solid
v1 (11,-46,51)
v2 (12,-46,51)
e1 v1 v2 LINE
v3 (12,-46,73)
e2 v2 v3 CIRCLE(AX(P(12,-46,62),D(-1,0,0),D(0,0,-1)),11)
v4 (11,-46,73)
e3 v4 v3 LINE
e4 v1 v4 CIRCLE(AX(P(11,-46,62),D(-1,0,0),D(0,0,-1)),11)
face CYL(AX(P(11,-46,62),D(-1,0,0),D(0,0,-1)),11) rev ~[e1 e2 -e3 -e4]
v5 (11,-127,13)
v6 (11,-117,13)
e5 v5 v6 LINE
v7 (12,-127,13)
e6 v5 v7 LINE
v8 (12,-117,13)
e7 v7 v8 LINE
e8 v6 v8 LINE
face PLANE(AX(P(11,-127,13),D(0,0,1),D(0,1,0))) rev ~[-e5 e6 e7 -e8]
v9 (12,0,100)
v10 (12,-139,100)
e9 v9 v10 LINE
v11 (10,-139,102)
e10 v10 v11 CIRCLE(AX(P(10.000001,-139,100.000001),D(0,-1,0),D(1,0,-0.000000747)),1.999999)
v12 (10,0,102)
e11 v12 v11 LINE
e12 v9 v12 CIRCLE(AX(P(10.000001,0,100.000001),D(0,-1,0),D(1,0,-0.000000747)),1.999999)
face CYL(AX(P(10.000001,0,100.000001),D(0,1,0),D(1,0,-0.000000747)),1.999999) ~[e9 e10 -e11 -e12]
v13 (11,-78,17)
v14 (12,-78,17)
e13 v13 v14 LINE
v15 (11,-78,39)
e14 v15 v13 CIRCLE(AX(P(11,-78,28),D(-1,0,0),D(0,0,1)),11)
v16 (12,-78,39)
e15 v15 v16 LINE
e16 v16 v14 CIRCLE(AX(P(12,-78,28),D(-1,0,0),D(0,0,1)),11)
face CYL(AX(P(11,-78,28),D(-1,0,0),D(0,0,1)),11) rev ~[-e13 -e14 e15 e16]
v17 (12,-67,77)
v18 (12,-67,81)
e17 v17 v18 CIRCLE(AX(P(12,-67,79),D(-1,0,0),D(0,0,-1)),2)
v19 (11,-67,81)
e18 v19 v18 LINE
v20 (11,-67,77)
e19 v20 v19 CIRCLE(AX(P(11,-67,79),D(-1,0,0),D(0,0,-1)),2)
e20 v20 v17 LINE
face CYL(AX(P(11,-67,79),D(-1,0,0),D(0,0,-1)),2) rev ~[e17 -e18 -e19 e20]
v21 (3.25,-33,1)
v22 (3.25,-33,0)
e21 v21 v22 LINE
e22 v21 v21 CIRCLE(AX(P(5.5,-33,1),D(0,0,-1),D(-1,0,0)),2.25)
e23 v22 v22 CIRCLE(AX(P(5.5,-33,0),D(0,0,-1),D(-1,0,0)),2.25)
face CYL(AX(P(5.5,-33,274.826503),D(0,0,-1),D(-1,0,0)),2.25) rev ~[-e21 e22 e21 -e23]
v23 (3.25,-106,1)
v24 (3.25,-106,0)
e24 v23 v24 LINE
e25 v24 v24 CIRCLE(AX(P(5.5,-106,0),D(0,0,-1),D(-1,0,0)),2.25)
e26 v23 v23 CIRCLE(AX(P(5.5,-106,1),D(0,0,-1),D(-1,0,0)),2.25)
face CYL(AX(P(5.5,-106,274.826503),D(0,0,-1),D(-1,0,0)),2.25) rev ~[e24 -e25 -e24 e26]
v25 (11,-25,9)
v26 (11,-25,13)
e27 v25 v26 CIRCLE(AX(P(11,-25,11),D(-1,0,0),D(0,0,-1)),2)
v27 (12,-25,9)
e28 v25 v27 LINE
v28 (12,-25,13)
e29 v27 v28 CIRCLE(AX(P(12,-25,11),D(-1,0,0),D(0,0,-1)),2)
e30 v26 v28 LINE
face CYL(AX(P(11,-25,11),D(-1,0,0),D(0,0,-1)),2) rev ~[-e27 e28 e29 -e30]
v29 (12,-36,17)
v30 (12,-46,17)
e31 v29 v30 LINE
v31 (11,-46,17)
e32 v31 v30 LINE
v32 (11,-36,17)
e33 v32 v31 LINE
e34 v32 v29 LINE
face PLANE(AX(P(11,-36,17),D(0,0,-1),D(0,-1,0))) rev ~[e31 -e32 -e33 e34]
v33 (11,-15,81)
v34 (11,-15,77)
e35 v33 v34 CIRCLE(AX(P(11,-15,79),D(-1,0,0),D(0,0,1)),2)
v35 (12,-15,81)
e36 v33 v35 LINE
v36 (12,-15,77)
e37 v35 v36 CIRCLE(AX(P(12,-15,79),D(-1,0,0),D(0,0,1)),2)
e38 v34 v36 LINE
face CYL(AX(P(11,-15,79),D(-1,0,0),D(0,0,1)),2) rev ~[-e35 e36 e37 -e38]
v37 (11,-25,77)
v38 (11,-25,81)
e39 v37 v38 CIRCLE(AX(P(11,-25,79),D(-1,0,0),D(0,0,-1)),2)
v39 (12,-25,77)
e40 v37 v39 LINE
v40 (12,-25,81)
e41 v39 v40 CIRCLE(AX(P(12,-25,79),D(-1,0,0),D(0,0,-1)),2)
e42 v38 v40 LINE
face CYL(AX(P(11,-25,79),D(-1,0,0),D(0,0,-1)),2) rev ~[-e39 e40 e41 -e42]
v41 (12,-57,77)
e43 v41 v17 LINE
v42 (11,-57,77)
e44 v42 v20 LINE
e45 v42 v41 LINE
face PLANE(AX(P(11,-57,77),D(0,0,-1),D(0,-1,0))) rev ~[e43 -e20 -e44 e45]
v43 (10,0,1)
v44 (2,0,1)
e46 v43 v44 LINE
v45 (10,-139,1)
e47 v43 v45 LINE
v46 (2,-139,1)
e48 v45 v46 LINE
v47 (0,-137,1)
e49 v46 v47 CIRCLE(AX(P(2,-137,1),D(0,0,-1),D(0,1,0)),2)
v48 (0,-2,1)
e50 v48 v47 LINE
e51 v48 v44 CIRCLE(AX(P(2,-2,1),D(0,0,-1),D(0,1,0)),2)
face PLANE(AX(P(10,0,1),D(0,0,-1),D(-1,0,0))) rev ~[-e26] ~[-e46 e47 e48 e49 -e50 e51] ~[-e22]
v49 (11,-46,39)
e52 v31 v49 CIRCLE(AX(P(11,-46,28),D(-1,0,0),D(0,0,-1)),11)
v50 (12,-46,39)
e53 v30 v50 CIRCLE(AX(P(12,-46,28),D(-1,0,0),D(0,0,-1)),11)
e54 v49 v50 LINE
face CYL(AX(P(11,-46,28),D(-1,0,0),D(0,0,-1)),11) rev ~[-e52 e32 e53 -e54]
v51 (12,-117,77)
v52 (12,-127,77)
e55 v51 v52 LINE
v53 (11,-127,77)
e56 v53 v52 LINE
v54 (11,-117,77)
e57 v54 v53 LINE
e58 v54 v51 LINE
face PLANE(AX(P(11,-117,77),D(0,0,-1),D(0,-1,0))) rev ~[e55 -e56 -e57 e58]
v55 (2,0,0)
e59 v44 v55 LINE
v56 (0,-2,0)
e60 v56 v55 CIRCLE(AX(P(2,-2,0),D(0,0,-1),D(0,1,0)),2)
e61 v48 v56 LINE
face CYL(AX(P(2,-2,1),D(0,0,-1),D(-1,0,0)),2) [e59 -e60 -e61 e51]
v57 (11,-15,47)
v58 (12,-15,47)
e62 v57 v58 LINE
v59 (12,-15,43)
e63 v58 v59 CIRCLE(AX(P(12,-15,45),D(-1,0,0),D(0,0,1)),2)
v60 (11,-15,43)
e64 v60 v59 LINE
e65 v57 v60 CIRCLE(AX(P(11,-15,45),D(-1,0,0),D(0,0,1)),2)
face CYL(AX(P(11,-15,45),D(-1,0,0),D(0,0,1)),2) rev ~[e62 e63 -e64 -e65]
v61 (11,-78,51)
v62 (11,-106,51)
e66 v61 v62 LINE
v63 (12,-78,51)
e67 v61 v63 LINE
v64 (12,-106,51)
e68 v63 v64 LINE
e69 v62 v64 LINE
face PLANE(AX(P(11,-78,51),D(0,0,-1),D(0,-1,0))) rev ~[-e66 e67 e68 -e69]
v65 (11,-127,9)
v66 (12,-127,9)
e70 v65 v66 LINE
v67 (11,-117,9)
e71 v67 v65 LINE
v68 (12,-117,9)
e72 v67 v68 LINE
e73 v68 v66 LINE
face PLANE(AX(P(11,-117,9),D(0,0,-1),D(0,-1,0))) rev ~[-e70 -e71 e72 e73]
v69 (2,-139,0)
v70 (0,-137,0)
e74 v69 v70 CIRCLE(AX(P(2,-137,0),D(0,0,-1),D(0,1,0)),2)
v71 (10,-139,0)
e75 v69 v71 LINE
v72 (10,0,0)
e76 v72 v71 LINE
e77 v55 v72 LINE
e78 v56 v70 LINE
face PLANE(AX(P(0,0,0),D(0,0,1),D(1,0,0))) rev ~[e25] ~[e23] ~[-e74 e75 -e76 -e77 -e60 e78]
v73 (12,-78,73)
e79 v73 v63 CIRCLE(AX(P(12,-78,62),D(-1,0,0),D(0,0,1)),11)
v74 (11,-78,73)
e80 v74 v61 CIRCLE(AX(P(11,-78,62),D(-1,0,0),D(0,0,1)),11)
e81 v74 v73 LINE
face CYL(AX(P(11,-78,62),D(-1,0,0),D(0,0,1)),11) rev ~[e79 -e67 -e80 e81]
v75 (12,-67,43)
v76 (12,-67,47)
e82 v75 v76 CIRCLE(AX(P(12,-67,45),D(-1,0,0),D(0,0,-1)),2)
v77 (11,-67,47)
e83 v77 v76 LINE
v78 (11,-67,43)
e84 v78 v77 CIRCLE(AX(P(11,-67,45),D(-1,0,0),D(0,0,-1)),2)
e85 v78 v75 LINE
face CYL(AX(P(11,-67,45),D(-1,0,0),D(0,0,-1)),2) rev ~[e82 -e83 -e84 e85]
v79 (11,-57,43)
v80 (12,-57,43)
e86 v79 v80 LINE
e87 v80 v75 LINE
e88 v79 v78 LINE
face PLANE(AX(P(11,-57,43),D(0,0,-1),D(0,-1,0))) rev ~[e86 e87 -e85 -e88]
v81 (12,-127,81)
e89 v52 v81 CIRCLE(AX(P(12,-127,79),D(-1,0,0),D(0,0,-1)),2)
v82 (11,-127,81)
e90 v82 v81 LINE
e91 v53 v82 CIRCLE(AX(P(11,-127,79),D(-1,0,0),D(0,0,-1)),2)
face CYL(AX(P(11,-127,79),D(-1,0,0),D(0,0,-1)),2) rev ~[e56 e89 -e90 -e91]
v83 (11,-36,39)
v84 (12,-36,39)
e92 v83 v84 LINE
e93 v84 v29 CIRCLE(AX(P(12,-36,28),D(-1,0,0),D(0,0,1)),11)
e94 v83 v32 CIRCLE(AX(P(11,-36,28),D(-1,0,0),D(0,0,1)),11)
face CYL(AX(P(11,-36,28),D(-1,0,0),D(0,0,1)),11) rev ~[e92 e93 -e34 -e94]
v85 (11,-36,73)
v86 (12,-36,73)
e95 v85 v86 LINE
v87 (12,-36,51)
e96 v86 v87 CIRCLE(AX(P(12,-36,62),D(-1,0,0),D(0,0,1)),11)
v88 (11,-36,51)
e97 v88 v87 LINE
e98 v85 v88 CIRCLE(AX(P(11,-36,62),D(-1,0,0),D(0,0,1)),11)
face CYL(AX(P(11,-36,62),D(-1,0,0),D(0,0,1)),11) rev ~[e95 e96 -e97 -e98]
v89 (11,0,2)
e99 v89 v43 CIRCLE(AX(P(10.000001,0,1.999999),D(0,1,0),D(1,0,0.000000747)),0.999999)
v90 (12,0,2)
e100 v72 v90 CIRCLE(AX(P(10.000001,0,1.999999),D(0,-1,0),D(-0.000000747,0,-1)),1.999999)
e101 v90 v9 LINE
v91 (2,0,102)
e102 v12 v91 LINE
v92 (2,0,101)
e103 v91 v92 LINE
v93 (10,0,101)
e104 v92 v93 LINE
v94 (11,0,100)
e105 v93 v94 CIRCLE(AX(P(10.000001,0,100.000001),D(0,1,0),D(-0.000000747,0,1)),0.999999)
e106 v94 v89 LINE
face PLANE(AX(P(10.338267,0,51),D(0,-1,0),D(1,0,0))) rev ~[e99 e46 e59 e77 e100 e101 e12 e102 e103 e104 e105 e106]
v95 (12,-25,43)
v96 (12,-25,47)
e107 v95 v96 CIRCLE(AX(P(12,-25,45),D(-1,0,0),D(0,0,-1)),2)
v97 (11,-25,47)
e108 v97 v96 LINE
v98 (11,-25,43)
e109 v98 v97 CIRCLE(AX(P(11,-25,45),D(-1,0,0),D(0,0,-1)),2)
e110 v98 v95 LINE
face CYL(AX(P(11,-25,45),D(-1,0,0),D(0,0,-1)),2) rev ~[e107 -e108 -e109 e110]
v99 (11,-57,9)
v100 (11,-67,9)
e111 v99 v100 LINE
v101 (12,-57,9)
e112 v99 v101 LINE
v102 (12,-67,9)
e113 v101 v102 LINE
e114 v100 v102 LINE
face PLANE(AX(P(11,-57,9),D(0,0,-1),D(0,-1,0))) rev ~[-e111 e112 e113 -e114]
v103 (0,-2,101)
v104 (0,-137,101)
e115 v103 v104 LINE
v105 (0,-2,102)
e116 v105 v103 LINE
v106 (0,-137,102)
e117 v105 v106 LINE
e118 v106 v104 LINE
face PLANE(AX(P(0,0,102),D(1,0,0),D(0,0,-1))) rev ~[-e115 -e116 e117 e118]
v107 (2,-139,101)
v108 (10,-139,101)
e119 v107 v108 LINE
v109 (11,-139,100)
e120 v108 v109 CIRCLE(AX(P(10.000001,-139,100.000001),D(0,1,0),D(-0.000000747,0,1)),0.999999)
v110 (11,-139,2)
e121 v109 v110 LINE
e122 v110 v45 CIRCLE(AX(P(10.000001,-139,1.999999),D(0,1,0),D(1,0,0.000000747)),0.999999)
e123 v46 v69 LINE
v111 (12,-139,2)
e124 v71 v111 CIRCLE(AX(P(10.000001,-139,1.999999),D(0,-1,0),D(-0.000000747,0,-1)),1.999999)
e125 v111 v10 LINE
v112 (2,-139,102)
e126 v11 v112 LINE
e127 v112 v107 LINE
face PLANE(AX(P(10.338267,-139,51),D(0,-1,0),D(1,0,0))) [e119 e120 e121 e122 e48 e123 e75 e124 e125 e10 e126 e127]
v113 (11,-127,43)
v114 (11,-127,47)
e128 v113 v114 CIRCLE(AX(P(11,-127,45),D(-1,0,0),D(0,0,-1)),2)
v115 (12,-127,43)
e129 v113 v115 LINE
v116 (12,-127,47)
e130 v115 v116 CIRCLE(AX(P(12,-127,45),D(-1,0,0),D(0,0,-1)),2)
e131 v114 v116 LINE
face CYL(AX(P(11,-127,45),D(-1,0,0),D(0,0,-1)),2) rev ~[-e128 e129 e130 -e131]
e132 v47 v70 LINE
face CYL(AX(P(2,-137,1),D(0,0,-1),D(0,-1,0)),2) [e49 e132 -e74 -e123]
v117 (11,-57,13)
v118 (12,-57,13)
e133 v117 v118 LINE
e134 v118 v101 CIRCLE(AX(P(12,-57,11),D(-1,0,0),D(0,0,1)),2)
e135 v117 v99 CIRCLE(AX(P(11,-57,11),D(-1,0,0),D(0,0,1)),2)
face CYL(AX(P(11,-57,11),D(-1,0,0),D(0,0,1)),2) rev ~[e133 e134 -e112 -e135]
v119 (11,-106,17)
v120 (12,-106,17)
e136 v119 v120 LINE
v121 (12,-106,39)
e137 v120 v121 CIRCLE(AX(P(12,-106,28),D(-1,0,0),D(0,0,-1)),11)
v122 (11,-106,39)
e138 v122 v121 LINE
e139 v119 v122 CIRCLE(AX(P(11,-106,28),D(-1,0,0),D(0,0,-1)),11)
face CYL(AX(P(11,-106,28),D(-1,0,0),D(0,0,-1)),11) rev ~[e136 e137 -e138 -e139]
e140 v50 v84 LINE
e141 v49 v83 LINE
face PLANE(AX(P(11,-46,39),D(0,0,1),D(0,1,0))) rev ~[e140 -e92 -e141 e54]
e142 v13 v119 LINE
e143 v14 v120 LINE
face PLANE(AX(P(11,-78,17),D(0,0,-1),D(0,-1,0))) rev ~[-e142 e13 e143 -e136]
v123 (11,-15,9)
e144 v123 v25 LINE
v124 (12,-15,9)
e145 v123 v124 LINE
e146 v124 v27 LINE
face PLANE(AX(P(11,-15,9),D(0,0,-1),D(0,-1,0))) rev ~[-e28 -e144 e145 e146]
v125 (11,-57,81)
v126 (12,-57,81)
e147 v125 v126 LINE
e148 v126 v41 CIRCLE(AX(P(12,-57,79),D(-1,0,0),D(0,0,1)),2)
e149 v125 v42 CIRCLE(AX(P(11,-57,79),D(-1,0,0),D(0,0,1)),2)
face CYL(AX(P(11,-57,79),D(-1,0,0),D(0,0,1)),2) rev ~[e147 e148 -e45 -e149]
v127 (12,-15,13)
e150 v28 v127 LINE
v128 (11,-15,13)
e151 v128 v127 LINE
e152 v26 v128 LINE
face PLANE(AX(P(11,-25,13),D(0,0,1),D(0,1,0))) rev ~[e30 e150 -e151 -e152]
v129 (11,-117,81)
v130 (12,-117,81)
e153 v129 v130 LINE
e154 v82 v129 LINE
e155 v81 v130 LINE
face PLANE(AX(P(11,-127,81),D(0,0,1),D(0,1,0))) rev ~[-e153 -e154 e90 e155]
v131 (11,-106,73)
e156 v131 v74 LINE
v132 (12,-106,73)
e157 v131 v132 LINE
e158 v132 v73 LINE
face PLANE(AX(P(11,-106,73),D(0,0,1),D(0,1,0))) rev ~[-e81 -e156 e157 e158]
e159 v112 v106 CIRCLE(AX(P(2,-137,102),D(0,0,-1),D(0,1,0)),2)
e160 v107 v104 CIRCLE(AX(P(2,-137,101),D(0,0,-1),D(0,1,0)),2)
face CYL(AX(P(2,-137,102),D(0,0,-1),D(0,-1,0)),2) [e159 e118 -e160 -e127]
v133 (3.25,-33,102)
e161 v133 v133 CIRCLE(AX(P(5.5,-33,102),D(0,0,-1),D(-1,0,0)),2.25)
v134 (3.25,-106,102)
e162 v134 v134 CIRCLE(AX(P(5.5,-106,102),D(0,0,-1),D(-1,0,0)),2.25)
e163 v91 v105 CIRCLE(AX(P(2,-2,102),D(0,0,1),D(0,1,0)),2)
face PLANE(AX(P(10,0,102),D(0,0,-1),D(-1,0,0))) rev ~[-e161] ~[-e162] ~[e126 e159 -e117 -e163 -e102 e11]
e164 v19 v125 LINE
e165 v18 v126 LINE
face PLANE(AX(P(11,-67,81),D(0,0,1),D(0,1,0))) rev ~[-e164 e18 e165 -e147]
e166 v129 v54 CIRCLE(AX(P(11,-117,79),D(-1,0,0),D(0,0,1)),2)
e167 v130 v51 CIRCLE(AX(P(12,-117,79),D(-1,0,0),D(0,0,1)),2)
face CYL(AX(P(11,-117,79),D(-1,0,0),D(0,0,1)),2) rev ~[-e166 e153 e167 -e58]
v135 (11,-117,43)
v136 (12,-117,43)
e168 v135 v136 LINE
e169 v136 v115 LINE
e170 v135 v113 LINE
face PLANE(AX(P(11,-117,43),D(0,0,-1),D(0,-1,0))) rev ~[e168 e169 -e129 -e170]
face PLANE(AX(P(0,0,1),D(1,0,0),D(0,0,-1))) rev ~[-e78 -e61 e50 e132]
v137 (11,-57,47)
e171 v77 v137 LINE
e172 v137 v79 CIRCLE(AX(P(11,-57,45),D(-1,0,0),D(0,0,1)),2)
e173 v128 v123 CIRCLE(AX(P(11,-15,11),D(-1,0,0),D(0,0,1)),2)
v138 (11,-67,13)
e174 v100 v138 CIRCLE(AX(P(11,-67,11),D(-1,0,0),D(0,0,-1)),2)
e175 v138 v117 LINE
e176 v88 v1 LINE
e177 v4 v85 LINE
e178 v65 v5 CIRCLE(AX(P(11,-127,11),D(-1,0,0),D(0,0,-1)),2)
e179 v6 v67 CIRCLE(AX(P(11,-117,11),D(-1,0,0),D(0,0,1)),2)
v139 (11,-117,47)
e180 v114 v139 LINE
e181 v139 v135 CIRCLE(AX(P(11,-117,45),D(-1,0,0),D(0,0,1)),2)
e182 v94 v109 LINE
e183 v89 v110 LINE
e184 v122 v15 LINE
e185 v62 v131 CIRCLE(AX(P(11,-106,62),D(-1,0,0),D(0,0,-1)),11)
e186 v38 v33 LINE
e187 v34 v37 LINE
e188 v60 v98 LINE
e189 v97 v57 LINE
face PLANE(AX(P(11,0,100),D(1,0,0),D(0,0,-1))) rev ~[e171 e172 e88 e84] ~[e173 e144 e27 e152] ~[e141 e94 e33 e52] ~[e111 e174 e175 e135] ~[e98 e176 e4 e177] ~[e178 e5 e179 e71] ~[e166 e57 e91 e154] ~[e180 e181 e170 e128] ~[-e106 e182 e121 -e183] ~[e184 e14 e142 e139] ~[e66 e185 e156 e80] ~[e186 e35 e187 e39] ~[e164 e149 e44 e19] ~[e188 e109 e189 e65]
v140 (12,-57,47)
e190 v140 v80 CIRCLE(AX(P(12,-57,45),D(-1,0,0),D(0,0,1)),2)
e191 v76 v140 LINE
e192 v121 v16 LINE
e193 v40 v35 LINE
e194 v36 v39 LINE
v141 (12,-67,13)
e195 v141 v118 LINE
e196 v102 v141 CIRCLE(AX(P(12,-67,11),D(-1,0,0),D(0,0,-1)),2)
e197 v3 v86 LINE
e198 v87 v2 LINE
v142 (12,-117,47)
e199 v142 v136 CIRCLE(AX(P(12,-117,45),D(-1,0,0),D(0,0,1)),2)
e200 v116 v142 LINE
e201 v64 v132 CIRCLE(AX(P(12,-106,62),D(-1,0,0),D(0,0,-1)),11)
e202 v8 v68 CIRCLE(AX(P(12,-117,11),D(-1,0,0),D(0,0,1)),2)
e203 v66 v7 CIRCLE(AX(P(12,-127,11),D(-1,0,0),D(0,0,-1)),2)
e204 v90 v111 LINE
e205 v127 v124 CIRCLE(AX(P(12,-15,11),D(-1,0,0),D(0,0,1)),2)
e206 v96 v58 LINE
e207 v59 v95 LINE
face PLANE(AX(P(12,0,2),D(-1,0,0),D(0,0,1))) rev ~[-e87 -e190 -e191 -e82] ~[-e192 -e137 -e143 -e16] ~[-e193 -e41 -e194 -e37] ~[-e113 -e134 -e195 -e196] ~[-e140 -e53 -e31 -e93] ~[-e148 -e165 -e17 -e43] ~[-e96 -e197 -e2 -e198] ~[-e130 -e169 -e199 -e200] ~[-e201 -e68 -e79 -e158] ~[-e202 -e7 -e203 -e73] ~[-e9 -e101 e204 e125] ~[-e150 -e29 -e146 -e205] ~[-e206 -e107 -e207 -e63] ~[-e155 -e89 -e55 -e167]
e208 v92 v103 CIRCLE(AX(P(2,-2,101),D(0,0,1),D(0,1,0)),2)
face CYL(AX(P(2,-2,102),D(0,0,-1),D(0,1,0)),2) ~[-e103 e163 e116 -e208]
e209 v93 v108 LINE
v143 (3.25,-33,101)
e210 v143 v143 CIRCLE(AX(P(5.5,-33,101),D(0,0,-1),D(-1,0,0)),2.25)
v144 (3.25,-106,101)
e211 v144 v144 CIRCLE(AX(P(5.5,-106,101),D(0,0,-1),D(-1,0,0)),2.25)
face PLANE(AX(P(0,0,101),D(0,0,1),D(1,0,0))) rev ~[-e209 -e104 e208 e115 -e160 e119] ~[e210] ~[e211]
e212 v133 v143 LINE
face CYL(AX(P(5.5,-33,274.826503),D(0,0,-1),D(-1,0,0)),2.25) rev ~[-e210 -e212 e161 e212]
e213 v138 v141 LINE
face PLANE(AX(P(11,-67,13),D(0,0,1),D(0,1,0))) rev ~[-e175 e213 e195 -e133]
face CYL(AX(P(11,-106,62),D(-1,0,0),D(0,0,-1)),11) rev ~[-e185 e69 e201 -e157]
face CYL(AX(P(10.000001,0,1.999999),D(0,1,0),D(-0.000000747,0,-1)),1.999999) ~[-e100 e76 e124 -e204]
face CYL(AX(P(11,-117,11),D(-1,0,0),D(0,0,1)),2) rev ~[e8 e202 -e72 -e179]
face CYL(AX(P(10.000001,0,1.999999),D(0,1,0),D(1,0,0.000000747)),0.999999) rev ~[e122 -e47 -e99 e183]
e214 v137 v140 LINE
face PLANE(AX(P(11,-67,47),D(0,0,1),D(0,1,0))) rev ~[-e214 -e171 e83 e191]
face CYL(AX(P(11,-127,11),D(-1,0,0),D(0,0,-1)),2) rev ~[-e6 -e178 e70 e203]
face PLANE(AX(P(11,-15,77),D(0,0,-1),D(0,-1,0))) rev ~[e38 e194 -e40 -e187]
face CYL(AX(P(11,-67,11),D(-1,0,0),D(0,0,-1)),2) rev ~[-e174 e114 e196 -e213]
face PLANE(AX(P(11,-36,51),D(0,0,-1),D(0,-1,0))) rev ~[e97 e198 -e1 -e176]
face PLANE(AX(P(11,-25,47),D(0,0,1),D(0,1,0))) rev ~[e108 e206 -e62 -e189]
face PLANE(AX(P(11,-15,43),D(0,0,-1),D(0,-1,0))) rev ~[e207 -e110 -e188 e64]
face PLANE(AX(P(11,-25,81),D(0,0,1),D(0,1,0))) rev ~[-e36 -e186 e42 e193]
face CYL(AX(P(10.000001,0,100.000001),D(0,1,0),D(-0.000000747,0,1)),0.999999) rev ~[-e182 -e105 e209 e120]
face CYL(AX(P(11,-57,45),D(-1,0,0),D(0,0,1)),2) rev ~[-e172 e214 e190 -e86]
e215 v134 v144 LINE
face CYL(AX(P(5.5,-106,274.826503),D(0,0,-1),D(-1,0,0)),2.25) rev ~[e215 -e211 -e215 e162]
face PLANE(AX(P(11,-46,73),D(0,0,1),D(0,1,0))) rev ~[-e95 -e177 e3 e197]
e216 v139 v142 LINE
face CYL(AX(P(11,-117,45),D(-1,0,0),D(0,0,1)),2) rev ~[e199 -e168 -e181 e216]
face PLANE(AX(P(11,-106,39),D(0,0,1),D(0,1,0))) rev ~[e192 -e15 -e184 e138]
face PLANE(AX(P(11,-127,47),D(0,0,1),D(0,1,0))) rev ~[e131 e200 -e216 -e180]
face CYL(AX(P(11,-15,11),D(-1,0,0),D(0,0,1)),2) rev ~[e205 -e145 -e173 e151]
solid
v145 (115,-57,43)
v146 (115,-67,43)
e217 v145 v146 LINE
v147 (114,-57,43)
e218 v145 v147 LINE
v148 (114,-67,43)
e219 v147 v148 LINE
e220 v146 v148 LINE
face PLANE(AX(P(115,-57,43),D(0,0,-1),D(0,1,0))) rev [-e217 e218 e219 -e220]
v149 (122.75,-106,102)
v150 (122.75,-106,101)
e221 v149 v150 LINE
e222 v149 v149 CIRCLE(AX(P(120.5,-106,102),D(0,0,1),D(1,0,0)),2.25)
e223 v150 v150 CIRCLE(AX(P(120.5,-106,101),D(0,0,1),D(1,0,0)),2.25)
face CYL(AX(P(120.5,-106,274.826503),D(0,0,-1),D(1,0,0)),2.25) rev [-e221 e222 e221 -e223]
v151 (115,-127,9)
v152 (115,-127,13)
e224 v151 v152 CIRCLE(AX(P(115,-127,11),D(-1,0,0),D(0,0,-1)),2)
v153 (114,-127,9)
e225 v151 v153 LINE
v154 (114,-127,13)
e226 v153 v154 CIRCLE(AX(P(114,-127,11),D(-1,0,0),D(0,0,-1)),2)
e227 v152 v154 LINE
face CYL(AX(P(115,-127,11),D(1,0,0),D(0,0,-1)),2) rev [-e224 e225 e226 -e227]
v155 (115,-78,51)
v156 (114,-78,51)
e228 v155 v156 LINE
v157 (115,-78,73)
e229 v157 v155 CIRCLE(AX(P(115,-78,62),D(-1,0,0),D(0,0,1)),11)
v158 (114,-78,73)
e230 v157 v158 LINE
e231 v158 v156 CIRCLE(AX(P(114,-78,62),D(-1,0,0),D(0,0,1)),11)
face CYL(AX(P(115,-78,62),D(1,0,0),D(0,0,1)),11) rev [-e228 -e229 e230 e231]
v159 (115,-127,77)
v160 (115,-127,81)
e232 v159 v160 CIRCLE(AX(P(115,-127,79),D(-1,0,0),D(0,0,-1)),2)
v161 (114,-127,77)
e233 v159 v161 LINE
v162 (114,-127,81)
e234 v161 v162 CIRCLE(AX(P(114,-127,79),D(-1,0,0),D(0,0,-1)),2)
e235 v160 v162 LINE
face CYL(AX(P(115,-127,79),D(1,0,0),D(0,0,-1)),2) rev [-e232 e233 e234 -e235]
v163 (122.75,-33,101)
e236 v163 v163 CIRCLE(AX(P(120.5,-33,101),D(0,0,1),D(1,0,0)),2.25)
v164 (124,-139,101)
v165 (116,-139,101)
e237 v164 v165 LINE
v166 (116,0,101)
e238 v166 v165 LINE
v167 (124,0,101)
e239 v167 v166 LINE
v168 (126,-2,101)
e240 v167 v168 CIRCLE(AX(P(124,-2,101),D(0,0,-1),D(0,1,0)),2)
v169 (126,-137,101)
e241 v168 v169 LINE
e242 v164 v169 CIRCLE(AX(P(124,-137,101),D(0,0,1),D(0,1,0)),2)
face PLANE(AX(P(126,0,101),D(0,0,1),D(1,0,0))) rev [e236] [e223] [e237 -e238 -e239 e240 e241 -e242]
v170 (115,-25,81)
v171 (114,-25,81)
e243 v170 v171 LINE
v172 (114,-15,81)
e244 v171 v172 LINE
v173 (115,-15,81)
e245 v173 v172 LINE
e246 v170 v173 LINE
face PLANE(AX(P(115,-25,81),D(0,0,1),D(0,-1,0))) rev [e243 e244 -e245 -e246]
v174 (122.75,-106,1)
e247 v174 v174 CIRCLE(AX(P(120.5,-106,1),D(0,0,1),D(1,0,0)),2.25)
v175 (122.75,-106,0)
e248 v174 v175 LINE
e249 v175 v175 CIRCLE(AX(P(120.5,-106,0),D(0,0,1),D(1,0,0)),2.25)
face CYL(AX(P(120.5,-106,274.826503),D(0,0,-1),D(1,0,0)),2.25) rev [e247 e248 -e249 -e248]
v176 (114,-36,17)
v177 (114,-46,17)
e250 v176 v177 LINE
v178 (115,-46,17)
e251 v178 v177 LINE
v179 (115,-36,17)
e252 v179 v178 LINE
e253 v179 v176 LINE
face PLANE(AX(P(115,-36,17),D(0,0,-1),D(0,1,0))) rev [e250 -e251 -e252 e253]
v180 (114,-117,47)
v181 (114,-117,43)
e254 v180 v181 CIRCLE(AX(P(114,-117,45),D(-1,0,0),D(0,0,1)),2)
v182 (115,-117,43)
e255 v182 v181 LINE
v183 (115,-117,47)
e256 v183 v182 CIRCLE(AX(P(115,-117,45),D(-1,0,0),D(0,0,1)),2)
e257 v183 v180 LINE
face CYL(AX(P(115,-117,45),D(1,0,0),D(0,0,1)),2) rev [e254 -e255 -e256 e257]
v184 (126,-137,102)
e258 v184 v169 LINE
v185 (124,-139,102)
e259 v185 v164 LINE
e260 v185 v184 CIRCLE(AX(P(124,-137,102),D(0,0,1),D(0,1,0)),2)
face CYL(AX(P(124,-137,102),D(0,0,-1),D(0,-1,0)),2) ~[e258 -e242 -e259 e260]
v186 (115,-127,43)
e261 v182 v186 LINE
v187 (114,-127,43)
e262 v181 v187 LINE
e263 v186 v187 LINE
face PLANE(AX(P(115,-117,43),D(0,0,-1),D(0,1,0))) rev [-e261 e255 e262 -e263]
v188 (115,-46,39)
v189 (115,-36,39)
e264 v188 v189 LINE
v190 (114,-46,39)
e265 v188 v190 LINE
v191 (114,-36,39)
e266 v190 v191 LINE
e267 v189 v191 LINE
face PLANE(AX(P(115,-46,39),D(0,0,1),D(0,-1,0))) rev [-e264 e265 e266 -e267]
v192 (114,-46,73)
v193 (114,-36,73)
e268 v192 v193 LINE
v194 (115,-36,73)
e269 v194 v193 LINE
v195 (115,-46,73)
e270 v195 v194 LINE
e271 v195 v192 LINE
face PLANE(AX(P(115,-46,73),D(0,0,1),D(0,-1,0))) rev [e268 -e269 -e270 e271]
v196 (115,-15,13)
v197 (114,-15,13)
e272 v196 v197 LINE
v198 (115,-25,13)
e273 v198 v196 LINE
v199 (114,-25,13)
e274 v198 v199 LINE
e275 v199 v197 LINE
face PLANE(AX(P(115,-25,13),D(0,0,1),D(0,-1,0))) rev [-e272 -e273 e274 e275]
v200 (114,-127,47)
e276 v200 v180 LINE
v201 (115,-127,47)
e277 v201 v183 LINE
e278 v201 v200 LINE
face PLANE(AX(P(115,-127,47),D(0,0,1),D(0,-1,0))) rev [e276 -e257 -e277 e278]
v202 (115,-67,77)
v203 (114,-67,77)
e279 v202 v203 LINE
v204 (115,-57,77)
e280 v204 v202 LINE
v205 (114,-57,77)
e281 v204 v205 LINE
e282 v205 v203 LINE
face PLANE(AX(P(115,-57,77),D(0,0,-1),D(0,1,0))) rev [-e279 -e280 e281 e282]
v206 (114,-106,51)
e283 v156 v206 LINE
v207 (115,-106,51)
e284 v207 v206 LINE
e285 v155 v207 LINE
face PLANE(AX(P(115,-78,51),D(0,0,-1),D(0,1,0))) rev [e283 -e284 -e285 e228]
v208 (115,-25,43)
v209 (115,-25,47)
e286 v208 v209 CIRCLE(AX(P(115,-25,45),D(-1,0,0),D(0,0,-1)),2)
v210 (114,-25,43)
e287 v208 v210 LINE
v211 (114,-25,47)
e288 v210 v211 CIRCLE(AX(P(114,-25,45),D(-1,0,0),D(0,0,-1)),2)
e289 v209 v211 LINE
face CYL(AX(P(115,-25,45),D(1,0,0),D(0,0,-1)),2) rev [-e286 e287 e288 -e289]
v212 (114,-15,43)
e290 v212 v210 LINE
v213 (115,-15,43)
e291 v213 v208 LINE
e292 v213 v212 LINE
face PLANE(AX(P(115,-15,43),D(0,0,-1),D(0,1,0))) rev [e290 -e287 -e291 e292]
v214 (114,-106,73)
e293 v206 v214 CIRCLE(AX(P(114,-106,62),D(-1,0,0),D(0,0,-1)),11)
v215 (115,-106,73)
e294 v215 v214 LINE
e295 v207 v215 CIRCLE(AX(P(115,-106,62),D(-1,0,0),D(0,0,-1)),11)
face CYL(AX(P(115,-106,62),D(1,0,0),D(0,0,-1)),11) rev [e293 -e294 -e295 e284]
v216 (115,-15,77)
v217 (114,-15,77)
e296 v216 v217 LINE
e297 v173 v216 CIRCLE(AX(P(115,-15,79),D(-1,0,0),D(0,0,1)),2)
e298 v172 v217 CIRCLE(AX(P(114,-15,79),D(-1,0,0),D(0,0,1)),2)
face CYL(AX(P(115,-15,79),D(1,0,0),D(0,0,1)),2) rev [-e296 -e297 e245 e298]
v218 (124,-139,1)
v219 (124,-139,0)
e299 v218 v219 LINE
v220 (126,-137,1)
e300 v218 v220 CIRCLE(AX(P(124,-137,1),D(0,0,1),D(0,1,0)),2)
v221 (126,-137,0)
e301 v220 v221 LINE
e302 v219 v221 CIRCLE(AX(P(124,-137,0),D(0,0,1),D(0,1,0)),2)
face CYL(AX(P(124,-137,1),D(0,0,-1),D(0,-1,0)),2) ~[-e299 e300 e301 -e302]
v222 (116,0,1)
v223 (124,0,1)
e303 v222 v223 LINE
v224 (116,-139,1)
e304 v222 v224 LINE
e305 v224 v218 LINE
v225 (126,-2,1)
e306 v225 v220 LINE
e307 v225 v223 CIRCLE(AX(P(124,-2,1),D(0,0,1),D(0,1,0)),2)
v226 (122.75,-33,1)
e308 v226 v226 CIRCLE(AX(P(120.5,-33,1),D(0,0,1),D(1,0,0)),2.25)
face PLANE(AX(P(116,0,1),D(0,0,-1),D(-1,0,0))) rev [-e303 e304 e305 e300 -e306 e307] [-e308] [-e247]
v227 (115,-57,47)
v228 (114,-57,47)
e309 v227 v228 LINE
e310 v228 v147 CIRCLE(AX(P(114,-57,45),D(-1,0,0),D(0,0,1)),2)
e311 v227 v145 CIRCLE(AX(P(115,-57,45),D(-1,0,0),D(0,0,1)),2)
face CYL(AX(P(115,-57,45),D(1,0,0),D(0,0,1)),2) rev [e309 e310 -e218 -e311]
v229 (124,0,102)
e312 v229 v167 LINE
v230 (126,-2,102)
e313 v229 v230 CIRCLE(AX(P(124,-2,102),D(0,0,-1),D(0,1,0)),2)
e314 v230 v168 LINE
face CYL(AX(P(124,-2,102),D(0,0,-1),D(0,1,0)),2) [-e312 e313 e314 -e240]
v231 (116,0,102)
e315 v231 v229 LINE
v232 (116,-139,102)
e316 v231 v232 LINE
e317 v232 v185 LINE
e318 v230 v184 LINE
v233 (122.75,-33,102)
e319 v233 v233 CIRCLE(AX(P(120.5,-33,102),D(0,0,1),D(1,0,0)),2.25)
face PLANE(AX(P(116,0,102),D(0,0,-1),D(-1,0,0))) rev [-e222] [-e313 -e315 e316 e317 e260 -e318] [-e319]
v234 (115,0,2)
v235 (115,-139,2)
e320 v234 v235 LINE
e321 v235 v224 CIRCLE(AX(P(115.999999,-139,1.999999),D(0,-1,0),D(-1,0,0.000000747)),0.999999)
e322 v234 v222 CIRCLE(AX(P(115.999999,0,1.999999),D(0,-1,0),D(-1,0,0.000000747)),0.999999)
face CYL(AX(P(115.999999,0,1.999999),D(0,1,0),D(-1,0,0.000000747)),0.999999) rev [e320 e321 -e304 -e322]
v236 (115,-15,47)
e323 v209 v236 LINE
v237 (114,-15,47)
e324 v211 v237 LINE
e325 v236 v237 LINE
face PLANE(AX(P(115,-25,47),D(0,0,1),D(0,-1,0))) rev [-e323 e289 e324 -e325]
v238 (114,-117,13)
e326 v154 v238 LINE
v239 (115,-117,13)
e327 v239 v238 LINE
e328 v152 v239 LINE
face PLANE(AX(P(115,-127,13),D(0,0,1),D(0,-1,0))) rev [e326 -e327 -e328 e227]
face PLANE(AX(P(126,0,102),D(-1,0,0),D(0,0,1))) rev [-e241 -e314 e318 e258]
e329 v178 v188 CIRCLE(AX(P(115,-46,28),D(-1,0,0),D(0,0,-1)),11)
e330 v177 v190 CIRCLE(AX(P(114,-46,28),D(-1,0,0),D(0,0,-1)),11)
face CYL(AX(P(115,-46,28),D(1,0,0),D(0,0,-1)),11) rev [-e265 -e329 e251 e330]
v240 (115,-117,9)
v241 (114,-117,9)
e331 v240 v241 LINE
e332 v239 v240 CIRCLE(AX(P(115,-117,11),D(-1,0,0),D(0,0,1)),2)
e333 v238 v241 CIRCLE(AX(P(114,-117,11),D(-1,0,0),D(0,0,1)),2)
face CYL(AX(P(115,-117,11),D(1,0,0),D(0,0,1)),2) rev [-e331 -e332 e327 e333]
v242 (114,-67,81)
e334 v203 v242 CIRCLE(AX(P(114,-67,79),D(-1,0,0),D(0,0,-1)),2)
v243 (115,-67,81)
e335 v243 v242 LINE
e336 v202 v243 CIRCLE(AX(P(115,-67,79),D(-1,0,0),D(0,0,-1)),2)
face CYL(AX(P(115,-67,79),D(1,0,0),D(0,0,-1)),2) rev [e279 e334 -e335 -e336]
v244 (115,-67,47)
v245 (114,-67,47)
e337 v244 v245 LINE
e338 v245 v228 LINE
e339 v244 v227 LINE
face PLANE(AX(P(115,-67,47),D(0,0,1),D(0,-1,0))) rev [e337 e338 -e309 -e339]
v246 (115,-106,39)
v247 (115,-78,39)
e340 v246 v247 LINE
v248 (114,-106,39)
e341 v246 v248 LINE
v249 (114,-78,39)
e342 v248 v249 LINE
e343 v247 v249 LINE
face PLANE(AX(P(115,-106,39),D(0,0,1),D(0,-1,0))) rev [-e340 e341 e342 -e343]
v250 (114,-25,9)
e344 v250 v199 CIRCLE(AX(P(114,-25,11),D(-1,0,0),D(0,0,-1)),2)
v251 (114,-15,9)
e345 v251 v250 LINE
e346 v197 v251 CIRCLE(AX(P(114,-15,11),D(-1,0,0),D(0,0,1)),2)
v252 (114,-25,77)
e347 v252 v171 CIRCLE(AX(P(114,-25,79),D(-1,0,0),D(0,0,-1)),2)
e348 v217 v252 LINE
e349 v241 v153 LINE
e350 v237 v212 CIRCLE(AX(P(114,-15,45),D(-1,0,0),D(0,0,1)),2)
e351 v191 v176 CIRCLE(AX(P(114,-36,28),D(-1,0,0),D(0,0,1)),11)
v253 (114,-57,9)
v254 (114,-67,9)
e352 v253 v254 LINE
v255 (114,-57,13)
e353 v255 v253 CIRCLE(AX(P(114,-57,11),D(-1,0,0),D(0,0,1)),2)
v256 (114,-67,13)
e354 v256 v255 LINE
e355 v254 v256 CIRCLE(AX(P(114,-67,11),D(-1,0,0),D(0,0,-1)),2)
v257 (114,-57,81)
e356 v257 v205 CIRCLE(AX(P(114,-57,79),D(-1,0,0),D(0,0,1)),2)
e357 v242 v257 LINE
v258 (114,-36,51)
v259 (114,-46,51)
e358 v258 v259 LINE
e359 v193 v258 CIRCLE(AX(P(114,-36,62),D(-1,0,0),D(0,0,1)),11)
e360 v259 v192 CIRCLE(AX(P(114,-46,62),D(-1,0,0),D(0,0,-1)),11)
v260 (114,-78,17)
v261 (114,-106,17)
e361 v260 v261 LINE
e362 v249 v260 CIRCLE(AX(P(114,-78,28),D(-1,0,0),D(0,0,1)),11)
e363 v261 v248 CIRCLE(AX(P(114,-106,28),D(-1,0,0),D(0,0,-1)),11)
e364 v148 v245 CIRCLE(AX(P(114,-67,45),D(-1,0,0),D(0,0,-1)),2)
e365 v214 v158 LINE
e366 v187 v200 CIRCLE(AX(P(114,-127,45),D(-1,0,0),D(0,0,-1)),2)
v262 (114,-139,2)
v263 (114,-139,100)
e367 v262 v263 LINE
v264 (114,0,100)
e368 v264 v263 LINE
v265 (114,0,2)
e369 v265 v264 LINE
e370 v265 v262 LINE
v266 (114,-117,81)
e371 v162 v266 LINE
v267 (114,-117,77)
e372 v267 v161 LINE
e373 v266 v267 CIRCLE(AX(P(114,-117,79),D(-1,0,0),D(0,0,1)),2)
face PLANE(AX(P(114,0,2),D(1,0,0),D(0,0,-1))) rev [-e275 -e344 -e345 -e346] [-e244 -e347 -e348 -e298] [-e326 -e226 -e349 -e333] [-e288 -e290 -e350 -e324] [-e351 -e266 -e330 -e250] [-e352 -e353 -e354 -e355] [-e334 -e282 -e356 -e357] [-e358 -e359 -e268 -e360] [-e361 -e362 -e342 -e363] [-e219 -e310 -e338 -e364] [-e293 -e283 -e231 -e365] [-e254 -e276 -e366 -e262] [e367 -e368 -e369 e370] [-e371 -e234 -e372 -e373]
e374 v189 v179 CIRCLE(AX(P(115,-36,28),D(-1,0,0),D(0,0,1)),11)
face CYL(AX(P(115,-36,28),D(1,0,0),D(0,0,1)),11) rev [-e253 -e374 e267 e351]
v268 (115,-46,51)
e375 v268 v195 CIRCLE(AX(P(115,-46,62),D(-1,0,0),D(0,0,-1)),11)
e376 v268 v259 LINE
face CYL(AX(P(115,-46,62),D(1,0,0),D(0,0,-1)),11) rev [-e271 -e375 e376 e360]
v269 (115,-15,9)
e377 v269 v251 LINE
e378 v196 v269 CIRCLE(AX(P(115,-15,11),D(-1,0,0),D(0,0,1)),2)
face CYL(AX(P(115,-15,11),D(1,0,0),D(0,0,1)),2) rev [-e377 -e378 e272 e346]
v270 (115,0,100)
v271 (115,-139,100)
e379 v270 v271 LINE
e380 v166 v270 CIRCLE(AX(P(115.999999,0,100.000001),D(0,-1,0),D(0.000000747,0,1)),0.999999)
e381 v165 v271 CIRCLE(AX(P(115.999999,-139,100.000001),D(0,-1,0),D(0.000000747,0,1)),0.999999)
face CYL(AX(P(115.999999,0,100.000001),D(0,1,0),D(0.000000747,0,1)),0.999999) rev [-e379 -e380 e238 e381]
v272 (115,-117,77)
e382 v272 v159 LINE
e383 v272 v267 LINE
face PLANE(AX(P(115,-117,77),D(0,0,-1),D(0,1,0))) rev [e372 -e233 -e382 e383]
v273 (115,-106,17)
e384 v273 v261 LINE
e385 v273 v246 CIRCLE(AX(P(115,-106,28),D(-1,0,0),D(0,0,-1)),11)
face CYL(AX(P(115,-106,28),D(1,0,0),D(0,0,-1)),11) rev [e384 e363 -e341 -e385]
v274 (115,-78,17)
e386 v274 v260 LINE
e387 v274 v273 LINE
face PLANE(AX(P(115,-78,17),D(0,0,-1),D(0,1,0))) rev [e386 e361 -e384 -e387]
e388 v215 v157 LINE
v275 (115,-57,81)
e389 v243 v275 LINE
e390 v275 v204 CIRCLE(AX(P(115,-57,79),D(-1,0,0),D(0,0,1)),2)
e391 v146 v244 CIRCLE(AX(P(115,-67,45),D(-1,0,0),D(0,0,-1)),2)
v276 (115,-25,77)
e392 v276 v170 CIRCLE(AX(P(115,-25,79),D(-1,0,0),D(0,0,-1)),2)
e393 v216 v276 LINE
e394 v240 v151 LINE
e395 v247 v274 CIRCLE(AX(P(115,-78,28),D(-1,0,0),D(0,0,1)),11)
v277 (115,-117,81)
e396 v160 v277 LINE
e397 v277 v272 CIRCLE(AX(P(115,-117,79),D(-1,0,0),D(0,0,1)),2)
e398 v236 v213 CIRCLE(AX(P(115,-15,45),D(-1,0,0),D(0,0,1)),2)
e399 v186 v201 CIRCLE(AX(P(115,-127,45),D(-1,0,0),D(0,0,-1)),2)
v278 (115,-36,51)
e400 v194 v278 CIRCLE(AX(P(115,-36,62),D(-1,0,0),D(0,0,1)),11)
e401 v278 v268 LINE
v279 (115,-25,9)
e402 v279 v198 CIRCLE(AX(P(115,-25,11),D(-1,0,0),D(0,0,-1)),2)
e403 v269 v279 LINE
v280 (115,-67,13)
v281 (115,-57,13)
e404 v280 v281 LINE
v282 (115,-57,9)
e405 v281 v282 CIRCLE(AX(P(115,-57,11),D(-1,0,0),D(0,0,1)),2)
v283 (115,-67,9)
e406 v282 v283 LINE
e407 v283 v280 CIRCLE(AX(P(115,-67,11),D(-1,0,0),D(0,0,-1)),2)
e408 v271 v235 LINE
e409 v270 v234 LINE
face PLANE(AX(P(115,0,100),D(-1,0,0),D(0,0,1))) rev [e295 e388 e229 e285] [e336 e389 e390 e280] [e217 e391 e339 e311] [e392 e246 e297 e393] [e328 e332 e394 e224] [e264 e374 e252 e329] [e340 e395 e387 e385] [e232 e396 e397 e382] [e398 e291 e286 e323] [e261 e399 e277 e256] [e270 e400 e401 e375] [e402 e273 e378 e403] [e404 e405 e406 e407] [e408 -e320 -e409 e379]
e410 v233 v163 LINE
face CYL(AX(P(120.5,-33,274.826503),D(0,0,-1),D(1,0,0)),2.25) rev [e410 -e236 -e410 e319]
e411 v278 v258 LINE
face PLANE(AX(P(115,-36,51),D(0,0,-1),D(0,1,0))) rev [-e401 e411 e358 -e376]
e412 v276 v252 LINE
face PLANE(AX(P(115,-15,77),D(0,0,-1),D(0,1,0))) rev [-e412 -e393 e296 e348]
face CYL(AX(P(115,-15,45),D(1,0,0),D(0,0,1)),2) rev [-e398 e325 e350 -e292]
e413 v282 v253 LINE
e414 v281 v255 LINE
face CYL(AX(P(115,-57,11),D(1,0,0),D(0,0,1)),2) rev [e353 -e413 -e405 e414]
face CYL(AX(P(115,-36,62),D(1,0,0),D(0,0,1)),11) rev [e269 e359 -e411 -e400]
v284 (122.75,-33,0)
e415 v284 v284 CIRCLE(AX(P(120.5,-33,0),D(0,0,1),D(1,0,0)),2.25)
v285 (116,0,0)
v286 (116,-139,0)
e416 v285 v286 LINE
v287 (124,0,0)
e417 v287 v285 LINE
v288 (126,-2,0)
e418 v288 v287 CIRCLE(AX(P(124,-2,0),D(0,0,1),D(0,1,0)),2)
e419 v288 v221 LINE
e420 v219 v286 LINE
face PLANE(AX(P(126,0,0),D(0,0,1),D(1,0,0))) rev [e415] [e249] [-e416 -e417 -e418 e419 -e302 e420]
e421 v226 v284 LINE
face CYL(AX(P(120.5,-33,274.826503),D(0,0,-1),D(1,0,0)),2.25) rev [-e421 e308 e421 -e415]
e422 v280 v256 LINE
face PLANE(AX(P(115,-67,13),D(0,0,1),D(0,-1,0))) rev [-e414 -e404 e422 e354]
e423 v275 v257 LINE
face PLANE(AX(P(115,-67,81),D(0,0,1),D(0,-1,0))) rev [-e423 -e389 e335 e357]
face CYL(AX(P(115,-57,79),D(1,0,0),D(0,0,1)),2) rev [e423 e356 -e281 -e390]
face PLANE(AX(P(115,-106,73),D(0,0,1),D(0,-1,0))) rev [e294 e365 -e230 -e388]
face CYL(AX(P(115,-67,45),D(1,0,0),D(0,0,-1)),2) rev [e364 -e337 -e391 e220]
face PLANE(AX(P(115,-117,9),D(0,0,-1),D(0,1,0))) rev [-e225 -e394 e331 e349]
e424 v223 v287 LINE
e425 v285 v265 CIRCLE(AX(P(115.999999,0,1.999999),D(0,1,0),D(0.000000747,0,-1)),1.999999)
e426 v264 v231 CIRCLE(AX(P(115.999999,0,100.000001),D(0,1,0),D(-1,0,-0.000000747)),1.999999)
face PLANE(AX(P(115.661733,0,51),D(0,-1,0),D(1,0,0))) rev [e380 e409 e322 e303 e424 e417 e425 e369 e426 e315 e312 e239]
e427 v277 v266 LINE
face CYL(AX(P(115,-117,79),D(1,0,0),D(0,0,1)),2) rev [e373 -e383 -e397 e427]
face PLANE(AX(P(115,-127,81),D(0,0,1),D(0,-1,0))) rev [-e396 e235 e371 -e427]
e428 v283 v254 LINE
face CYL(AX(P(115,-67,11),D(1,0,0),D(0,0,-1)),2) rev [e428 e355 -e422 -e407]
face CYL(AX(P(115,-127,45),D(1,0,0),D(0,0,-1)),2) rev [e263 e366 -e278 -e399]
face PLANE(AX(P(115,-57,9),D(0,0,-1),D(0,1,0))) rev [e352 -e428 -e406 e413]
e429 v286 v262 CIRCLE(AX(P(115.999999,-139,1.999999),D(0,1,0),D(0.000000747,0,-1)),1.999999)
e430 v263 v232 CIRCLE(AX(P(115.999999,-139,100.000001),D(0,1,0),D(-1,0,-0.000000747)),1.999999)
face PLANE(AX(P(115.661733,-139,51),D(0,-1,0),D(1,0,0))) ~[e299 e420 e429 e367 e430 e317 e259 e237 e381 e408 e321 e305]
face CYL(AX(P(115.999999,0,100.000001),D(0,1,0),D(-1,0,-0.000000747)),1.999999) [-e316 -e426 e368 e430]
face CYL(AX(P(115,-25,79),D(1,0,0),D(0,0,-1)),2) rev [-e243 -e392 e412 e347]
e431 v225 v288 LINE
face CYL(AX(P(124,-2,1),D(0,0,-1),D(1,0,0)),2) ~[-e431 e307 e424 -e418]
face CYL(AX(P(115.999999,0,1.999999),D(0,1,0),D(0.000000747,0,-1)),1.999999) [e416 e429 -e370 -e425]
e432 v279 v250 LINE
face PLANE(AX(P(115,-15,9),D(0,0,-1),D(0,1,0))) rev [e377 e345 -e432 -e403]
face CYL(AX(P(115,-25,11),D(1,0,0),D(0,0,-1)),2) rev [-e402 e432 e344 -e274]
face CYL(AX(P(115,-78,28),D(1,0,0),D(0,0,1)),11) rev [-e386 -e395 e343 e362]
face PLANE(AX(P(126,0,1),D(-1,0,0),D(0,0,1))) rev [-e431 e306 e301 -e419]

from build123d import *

# Parameters (mm, degrees)
F1_DEPTH  = 139
F3_D      = 4.5
F5_DEPTH  = 25
F6_R      = 2
F7_R      = 2
F8_R      = 2
F9_R      = 2
F11_DEPTH = 25


with BuildPart() as f1:
    # F0 (on Front) → F1 (new body)
    with BuildSketch(Plane.XZ):
        with BuildLine():
            Line((0, 1), (0, 0))
            Line((0, 0), (10, 0))
            ThreePointArc((10, 0), (11.414214, 0.585786), (12, 2))
            Line((12, 2), (12, 100))
            ThreePointArc((12, 100), (11.414214, 101.414214), (10, 102))
            Line((10, 102), (0, 102))
            Line((0, 102), (0, 101))
            Line((0, 101), (10, 101))
            ThreePointArc((10, 101), (10.707107, 100.707107), (11, 100))
            Line((11, 100), (11, 2))
            ThreePointArc((11, 2), (10.707107, 1.292893), (10, 1))
            Line((10, 1), (0, 1))
        make_face()
    extrude(amount=F1_DEPTH)

    # F3 (through all)
    with Locations(Plane.XY.offset(102)):
        with Locations((5.5, -106), (5.5, -33)):
            Hole(F3_D / 2)

    # F4 (on face) → F5 (cut)
    with BuildSketch(Plane(origin=(11, 0, 0), x_dir=(0, -1, 0), z_dir=(-1, 0, 0))):
        with BuildLine():
            Line((25, 13), (15, 13))
            ThreePointArc((15, 13), (13, 11), (15, 9))
            Line((15, 9), (25, 9))
            ThreePointArc((25, 9), (27, 11), (25, 13))
        make_face()
        with BuildLine():
            Line((25, 47), (15, 47))
            ThreePointArc((15, 47), (13, 45), (15, 43))
            Line((15, 43), (25, 43))
            ThreePointArc((25, 43), (27, 45), (25, 47))
        make_face()
        with BuildLine():
            Line((25, 81), (15, 81))
            ThreePointArc((15, 81), (13, 79), (15, 77))
            Line((15, 77), (25, 77))
            ThreePointArc((25, 77), (27, 79), (25, 81))
        make_face()
        with BuildLine():
            Line((67, 13), (57, 13))
            ThreePointArc((57, 13), (55, 11), (57, 9))
            Line((57, 9), (67, 9))
            ThreePointArc((67, 9), (69, 11), (67, 13))
        make_face()
        with BuildLine():
            Line((67, 47), (57, 47))
            ThreePointArc((57, 47), (55, 45), (57, 43))
            Line((57, 43), (67, 43))
            ThreePointArc((67, 43), (69, 45), (67, 47))
        make_face()
        with BuildLine():
            Line((67, 81), (57, 81))
            ThreePointArc((57, 81), (55, 79), (57, 77))
            Line((57, 77), (67, 77))
            ThreePointArc((67, 77), (69, 79), (67, 81))
        make_face()
        with BuildLine():
            Line((127, 13), (117, 13))
            ThreePointArc((117, 13), (115, 11), (117, 9))
            Line((117, 9), (127, 9))
            ThreePointArc((127, 9), (129, 11), (127, 13))
        make_face()
        with BuildLine():
            Line((127, 47), (117, 47))
            ThreePointArc((117, 47), (115, 45), (117, 43))
            Line((117, 43), (127, 43))
            ThreePointArc((127, 43), (129, 45), (127, 47))
        make_face()
        with BuildLine():
            Line((127, 81), (117, 81))
            ThreePointArc((117, 81), (115, 79), (117, 77))
            Line((117, 77), (127, 77))
            ThreePointArc((127, 77), (129, 79), (127, 81))
        make_face()
    extrude(amount=-F5_DEPTH, mode=Mode.SUBTRACT)

    # F6
    f6_edges = [f1.edges().sort_by_distance(p)[0] for p in [
        (0, -139, 101.5),
    ]]
    fillet(f6_edges, radius=F6_R)

    # F7
    f7_edges = [f1.edges().sort_by_distance(p)[0] for p in [
        (0, -139, 0.5),
    ]]
    fillet(f7_edges, radius=F7_R)

    # F8
    f8_edges = [f1.edges().sort_by_distance(p)[0] for p in [
        (0, 0, 0.5),
    ]]
    fillet(f8_edges, radius=F8_R)

    # F9
    f9_edges = [f1.edges().sort_by_distance(p)[0] for p in [
        (0, 0, 101.5),
    ]]
    fillet(f9_edges, radius=F9_R)

    # F10 (on face) → F11 (cut)
    with BuildSketch(Plane(origin=(11, 0, 0), x_dir=(0, -1, 0), z_dir=(-1, 0, 0))):
        with BuildLine():
            Line((46, 39), (36, 39))
            ThreePointArc((36, 39), (25, 28), (36, 17))
            Line((36, 17), (46, 17))
            ThreePointArc((46, 17), (57, 28), (46, 39))
        make_face()
        with BuildLine():
            Line((46, 73), (36, 73))
            ThreePointArc((36, 73), (25, 62), (36, 51))
            Line((36, 51), (46, 51))
            ThreePointArc((46, 51), (57, 62), (46, 73))
        make_face()
        with BuildLine():
            Line((106, 39), (78, 39))
            ThreePointArc((78, 39), (67, 28), (78, 17))
            Line((78, 17), (106, 17))
            ThreePointArc((106, 17), (117, 28), (106, 39))
        make_face()
        with BuildLine():
            ThreePointArc((78, 73), (67, 62), (78, 51))
            Line((78, 51), (106, 51))
            ThreePointArc((106, 51), (117, 62), (106, 73))
            Line((106, 73), (78, 73))
        make_face()
    extrude(amount=-F11_DEPTH, mode=Mode.SUBTRACT)


with BuildPart() as f13_1:
    # F13: instance of F1
    add(f1.part.mirror(Plane.YZ.offset(63)))


solid = Compound([f1.part, f13_1.part])
